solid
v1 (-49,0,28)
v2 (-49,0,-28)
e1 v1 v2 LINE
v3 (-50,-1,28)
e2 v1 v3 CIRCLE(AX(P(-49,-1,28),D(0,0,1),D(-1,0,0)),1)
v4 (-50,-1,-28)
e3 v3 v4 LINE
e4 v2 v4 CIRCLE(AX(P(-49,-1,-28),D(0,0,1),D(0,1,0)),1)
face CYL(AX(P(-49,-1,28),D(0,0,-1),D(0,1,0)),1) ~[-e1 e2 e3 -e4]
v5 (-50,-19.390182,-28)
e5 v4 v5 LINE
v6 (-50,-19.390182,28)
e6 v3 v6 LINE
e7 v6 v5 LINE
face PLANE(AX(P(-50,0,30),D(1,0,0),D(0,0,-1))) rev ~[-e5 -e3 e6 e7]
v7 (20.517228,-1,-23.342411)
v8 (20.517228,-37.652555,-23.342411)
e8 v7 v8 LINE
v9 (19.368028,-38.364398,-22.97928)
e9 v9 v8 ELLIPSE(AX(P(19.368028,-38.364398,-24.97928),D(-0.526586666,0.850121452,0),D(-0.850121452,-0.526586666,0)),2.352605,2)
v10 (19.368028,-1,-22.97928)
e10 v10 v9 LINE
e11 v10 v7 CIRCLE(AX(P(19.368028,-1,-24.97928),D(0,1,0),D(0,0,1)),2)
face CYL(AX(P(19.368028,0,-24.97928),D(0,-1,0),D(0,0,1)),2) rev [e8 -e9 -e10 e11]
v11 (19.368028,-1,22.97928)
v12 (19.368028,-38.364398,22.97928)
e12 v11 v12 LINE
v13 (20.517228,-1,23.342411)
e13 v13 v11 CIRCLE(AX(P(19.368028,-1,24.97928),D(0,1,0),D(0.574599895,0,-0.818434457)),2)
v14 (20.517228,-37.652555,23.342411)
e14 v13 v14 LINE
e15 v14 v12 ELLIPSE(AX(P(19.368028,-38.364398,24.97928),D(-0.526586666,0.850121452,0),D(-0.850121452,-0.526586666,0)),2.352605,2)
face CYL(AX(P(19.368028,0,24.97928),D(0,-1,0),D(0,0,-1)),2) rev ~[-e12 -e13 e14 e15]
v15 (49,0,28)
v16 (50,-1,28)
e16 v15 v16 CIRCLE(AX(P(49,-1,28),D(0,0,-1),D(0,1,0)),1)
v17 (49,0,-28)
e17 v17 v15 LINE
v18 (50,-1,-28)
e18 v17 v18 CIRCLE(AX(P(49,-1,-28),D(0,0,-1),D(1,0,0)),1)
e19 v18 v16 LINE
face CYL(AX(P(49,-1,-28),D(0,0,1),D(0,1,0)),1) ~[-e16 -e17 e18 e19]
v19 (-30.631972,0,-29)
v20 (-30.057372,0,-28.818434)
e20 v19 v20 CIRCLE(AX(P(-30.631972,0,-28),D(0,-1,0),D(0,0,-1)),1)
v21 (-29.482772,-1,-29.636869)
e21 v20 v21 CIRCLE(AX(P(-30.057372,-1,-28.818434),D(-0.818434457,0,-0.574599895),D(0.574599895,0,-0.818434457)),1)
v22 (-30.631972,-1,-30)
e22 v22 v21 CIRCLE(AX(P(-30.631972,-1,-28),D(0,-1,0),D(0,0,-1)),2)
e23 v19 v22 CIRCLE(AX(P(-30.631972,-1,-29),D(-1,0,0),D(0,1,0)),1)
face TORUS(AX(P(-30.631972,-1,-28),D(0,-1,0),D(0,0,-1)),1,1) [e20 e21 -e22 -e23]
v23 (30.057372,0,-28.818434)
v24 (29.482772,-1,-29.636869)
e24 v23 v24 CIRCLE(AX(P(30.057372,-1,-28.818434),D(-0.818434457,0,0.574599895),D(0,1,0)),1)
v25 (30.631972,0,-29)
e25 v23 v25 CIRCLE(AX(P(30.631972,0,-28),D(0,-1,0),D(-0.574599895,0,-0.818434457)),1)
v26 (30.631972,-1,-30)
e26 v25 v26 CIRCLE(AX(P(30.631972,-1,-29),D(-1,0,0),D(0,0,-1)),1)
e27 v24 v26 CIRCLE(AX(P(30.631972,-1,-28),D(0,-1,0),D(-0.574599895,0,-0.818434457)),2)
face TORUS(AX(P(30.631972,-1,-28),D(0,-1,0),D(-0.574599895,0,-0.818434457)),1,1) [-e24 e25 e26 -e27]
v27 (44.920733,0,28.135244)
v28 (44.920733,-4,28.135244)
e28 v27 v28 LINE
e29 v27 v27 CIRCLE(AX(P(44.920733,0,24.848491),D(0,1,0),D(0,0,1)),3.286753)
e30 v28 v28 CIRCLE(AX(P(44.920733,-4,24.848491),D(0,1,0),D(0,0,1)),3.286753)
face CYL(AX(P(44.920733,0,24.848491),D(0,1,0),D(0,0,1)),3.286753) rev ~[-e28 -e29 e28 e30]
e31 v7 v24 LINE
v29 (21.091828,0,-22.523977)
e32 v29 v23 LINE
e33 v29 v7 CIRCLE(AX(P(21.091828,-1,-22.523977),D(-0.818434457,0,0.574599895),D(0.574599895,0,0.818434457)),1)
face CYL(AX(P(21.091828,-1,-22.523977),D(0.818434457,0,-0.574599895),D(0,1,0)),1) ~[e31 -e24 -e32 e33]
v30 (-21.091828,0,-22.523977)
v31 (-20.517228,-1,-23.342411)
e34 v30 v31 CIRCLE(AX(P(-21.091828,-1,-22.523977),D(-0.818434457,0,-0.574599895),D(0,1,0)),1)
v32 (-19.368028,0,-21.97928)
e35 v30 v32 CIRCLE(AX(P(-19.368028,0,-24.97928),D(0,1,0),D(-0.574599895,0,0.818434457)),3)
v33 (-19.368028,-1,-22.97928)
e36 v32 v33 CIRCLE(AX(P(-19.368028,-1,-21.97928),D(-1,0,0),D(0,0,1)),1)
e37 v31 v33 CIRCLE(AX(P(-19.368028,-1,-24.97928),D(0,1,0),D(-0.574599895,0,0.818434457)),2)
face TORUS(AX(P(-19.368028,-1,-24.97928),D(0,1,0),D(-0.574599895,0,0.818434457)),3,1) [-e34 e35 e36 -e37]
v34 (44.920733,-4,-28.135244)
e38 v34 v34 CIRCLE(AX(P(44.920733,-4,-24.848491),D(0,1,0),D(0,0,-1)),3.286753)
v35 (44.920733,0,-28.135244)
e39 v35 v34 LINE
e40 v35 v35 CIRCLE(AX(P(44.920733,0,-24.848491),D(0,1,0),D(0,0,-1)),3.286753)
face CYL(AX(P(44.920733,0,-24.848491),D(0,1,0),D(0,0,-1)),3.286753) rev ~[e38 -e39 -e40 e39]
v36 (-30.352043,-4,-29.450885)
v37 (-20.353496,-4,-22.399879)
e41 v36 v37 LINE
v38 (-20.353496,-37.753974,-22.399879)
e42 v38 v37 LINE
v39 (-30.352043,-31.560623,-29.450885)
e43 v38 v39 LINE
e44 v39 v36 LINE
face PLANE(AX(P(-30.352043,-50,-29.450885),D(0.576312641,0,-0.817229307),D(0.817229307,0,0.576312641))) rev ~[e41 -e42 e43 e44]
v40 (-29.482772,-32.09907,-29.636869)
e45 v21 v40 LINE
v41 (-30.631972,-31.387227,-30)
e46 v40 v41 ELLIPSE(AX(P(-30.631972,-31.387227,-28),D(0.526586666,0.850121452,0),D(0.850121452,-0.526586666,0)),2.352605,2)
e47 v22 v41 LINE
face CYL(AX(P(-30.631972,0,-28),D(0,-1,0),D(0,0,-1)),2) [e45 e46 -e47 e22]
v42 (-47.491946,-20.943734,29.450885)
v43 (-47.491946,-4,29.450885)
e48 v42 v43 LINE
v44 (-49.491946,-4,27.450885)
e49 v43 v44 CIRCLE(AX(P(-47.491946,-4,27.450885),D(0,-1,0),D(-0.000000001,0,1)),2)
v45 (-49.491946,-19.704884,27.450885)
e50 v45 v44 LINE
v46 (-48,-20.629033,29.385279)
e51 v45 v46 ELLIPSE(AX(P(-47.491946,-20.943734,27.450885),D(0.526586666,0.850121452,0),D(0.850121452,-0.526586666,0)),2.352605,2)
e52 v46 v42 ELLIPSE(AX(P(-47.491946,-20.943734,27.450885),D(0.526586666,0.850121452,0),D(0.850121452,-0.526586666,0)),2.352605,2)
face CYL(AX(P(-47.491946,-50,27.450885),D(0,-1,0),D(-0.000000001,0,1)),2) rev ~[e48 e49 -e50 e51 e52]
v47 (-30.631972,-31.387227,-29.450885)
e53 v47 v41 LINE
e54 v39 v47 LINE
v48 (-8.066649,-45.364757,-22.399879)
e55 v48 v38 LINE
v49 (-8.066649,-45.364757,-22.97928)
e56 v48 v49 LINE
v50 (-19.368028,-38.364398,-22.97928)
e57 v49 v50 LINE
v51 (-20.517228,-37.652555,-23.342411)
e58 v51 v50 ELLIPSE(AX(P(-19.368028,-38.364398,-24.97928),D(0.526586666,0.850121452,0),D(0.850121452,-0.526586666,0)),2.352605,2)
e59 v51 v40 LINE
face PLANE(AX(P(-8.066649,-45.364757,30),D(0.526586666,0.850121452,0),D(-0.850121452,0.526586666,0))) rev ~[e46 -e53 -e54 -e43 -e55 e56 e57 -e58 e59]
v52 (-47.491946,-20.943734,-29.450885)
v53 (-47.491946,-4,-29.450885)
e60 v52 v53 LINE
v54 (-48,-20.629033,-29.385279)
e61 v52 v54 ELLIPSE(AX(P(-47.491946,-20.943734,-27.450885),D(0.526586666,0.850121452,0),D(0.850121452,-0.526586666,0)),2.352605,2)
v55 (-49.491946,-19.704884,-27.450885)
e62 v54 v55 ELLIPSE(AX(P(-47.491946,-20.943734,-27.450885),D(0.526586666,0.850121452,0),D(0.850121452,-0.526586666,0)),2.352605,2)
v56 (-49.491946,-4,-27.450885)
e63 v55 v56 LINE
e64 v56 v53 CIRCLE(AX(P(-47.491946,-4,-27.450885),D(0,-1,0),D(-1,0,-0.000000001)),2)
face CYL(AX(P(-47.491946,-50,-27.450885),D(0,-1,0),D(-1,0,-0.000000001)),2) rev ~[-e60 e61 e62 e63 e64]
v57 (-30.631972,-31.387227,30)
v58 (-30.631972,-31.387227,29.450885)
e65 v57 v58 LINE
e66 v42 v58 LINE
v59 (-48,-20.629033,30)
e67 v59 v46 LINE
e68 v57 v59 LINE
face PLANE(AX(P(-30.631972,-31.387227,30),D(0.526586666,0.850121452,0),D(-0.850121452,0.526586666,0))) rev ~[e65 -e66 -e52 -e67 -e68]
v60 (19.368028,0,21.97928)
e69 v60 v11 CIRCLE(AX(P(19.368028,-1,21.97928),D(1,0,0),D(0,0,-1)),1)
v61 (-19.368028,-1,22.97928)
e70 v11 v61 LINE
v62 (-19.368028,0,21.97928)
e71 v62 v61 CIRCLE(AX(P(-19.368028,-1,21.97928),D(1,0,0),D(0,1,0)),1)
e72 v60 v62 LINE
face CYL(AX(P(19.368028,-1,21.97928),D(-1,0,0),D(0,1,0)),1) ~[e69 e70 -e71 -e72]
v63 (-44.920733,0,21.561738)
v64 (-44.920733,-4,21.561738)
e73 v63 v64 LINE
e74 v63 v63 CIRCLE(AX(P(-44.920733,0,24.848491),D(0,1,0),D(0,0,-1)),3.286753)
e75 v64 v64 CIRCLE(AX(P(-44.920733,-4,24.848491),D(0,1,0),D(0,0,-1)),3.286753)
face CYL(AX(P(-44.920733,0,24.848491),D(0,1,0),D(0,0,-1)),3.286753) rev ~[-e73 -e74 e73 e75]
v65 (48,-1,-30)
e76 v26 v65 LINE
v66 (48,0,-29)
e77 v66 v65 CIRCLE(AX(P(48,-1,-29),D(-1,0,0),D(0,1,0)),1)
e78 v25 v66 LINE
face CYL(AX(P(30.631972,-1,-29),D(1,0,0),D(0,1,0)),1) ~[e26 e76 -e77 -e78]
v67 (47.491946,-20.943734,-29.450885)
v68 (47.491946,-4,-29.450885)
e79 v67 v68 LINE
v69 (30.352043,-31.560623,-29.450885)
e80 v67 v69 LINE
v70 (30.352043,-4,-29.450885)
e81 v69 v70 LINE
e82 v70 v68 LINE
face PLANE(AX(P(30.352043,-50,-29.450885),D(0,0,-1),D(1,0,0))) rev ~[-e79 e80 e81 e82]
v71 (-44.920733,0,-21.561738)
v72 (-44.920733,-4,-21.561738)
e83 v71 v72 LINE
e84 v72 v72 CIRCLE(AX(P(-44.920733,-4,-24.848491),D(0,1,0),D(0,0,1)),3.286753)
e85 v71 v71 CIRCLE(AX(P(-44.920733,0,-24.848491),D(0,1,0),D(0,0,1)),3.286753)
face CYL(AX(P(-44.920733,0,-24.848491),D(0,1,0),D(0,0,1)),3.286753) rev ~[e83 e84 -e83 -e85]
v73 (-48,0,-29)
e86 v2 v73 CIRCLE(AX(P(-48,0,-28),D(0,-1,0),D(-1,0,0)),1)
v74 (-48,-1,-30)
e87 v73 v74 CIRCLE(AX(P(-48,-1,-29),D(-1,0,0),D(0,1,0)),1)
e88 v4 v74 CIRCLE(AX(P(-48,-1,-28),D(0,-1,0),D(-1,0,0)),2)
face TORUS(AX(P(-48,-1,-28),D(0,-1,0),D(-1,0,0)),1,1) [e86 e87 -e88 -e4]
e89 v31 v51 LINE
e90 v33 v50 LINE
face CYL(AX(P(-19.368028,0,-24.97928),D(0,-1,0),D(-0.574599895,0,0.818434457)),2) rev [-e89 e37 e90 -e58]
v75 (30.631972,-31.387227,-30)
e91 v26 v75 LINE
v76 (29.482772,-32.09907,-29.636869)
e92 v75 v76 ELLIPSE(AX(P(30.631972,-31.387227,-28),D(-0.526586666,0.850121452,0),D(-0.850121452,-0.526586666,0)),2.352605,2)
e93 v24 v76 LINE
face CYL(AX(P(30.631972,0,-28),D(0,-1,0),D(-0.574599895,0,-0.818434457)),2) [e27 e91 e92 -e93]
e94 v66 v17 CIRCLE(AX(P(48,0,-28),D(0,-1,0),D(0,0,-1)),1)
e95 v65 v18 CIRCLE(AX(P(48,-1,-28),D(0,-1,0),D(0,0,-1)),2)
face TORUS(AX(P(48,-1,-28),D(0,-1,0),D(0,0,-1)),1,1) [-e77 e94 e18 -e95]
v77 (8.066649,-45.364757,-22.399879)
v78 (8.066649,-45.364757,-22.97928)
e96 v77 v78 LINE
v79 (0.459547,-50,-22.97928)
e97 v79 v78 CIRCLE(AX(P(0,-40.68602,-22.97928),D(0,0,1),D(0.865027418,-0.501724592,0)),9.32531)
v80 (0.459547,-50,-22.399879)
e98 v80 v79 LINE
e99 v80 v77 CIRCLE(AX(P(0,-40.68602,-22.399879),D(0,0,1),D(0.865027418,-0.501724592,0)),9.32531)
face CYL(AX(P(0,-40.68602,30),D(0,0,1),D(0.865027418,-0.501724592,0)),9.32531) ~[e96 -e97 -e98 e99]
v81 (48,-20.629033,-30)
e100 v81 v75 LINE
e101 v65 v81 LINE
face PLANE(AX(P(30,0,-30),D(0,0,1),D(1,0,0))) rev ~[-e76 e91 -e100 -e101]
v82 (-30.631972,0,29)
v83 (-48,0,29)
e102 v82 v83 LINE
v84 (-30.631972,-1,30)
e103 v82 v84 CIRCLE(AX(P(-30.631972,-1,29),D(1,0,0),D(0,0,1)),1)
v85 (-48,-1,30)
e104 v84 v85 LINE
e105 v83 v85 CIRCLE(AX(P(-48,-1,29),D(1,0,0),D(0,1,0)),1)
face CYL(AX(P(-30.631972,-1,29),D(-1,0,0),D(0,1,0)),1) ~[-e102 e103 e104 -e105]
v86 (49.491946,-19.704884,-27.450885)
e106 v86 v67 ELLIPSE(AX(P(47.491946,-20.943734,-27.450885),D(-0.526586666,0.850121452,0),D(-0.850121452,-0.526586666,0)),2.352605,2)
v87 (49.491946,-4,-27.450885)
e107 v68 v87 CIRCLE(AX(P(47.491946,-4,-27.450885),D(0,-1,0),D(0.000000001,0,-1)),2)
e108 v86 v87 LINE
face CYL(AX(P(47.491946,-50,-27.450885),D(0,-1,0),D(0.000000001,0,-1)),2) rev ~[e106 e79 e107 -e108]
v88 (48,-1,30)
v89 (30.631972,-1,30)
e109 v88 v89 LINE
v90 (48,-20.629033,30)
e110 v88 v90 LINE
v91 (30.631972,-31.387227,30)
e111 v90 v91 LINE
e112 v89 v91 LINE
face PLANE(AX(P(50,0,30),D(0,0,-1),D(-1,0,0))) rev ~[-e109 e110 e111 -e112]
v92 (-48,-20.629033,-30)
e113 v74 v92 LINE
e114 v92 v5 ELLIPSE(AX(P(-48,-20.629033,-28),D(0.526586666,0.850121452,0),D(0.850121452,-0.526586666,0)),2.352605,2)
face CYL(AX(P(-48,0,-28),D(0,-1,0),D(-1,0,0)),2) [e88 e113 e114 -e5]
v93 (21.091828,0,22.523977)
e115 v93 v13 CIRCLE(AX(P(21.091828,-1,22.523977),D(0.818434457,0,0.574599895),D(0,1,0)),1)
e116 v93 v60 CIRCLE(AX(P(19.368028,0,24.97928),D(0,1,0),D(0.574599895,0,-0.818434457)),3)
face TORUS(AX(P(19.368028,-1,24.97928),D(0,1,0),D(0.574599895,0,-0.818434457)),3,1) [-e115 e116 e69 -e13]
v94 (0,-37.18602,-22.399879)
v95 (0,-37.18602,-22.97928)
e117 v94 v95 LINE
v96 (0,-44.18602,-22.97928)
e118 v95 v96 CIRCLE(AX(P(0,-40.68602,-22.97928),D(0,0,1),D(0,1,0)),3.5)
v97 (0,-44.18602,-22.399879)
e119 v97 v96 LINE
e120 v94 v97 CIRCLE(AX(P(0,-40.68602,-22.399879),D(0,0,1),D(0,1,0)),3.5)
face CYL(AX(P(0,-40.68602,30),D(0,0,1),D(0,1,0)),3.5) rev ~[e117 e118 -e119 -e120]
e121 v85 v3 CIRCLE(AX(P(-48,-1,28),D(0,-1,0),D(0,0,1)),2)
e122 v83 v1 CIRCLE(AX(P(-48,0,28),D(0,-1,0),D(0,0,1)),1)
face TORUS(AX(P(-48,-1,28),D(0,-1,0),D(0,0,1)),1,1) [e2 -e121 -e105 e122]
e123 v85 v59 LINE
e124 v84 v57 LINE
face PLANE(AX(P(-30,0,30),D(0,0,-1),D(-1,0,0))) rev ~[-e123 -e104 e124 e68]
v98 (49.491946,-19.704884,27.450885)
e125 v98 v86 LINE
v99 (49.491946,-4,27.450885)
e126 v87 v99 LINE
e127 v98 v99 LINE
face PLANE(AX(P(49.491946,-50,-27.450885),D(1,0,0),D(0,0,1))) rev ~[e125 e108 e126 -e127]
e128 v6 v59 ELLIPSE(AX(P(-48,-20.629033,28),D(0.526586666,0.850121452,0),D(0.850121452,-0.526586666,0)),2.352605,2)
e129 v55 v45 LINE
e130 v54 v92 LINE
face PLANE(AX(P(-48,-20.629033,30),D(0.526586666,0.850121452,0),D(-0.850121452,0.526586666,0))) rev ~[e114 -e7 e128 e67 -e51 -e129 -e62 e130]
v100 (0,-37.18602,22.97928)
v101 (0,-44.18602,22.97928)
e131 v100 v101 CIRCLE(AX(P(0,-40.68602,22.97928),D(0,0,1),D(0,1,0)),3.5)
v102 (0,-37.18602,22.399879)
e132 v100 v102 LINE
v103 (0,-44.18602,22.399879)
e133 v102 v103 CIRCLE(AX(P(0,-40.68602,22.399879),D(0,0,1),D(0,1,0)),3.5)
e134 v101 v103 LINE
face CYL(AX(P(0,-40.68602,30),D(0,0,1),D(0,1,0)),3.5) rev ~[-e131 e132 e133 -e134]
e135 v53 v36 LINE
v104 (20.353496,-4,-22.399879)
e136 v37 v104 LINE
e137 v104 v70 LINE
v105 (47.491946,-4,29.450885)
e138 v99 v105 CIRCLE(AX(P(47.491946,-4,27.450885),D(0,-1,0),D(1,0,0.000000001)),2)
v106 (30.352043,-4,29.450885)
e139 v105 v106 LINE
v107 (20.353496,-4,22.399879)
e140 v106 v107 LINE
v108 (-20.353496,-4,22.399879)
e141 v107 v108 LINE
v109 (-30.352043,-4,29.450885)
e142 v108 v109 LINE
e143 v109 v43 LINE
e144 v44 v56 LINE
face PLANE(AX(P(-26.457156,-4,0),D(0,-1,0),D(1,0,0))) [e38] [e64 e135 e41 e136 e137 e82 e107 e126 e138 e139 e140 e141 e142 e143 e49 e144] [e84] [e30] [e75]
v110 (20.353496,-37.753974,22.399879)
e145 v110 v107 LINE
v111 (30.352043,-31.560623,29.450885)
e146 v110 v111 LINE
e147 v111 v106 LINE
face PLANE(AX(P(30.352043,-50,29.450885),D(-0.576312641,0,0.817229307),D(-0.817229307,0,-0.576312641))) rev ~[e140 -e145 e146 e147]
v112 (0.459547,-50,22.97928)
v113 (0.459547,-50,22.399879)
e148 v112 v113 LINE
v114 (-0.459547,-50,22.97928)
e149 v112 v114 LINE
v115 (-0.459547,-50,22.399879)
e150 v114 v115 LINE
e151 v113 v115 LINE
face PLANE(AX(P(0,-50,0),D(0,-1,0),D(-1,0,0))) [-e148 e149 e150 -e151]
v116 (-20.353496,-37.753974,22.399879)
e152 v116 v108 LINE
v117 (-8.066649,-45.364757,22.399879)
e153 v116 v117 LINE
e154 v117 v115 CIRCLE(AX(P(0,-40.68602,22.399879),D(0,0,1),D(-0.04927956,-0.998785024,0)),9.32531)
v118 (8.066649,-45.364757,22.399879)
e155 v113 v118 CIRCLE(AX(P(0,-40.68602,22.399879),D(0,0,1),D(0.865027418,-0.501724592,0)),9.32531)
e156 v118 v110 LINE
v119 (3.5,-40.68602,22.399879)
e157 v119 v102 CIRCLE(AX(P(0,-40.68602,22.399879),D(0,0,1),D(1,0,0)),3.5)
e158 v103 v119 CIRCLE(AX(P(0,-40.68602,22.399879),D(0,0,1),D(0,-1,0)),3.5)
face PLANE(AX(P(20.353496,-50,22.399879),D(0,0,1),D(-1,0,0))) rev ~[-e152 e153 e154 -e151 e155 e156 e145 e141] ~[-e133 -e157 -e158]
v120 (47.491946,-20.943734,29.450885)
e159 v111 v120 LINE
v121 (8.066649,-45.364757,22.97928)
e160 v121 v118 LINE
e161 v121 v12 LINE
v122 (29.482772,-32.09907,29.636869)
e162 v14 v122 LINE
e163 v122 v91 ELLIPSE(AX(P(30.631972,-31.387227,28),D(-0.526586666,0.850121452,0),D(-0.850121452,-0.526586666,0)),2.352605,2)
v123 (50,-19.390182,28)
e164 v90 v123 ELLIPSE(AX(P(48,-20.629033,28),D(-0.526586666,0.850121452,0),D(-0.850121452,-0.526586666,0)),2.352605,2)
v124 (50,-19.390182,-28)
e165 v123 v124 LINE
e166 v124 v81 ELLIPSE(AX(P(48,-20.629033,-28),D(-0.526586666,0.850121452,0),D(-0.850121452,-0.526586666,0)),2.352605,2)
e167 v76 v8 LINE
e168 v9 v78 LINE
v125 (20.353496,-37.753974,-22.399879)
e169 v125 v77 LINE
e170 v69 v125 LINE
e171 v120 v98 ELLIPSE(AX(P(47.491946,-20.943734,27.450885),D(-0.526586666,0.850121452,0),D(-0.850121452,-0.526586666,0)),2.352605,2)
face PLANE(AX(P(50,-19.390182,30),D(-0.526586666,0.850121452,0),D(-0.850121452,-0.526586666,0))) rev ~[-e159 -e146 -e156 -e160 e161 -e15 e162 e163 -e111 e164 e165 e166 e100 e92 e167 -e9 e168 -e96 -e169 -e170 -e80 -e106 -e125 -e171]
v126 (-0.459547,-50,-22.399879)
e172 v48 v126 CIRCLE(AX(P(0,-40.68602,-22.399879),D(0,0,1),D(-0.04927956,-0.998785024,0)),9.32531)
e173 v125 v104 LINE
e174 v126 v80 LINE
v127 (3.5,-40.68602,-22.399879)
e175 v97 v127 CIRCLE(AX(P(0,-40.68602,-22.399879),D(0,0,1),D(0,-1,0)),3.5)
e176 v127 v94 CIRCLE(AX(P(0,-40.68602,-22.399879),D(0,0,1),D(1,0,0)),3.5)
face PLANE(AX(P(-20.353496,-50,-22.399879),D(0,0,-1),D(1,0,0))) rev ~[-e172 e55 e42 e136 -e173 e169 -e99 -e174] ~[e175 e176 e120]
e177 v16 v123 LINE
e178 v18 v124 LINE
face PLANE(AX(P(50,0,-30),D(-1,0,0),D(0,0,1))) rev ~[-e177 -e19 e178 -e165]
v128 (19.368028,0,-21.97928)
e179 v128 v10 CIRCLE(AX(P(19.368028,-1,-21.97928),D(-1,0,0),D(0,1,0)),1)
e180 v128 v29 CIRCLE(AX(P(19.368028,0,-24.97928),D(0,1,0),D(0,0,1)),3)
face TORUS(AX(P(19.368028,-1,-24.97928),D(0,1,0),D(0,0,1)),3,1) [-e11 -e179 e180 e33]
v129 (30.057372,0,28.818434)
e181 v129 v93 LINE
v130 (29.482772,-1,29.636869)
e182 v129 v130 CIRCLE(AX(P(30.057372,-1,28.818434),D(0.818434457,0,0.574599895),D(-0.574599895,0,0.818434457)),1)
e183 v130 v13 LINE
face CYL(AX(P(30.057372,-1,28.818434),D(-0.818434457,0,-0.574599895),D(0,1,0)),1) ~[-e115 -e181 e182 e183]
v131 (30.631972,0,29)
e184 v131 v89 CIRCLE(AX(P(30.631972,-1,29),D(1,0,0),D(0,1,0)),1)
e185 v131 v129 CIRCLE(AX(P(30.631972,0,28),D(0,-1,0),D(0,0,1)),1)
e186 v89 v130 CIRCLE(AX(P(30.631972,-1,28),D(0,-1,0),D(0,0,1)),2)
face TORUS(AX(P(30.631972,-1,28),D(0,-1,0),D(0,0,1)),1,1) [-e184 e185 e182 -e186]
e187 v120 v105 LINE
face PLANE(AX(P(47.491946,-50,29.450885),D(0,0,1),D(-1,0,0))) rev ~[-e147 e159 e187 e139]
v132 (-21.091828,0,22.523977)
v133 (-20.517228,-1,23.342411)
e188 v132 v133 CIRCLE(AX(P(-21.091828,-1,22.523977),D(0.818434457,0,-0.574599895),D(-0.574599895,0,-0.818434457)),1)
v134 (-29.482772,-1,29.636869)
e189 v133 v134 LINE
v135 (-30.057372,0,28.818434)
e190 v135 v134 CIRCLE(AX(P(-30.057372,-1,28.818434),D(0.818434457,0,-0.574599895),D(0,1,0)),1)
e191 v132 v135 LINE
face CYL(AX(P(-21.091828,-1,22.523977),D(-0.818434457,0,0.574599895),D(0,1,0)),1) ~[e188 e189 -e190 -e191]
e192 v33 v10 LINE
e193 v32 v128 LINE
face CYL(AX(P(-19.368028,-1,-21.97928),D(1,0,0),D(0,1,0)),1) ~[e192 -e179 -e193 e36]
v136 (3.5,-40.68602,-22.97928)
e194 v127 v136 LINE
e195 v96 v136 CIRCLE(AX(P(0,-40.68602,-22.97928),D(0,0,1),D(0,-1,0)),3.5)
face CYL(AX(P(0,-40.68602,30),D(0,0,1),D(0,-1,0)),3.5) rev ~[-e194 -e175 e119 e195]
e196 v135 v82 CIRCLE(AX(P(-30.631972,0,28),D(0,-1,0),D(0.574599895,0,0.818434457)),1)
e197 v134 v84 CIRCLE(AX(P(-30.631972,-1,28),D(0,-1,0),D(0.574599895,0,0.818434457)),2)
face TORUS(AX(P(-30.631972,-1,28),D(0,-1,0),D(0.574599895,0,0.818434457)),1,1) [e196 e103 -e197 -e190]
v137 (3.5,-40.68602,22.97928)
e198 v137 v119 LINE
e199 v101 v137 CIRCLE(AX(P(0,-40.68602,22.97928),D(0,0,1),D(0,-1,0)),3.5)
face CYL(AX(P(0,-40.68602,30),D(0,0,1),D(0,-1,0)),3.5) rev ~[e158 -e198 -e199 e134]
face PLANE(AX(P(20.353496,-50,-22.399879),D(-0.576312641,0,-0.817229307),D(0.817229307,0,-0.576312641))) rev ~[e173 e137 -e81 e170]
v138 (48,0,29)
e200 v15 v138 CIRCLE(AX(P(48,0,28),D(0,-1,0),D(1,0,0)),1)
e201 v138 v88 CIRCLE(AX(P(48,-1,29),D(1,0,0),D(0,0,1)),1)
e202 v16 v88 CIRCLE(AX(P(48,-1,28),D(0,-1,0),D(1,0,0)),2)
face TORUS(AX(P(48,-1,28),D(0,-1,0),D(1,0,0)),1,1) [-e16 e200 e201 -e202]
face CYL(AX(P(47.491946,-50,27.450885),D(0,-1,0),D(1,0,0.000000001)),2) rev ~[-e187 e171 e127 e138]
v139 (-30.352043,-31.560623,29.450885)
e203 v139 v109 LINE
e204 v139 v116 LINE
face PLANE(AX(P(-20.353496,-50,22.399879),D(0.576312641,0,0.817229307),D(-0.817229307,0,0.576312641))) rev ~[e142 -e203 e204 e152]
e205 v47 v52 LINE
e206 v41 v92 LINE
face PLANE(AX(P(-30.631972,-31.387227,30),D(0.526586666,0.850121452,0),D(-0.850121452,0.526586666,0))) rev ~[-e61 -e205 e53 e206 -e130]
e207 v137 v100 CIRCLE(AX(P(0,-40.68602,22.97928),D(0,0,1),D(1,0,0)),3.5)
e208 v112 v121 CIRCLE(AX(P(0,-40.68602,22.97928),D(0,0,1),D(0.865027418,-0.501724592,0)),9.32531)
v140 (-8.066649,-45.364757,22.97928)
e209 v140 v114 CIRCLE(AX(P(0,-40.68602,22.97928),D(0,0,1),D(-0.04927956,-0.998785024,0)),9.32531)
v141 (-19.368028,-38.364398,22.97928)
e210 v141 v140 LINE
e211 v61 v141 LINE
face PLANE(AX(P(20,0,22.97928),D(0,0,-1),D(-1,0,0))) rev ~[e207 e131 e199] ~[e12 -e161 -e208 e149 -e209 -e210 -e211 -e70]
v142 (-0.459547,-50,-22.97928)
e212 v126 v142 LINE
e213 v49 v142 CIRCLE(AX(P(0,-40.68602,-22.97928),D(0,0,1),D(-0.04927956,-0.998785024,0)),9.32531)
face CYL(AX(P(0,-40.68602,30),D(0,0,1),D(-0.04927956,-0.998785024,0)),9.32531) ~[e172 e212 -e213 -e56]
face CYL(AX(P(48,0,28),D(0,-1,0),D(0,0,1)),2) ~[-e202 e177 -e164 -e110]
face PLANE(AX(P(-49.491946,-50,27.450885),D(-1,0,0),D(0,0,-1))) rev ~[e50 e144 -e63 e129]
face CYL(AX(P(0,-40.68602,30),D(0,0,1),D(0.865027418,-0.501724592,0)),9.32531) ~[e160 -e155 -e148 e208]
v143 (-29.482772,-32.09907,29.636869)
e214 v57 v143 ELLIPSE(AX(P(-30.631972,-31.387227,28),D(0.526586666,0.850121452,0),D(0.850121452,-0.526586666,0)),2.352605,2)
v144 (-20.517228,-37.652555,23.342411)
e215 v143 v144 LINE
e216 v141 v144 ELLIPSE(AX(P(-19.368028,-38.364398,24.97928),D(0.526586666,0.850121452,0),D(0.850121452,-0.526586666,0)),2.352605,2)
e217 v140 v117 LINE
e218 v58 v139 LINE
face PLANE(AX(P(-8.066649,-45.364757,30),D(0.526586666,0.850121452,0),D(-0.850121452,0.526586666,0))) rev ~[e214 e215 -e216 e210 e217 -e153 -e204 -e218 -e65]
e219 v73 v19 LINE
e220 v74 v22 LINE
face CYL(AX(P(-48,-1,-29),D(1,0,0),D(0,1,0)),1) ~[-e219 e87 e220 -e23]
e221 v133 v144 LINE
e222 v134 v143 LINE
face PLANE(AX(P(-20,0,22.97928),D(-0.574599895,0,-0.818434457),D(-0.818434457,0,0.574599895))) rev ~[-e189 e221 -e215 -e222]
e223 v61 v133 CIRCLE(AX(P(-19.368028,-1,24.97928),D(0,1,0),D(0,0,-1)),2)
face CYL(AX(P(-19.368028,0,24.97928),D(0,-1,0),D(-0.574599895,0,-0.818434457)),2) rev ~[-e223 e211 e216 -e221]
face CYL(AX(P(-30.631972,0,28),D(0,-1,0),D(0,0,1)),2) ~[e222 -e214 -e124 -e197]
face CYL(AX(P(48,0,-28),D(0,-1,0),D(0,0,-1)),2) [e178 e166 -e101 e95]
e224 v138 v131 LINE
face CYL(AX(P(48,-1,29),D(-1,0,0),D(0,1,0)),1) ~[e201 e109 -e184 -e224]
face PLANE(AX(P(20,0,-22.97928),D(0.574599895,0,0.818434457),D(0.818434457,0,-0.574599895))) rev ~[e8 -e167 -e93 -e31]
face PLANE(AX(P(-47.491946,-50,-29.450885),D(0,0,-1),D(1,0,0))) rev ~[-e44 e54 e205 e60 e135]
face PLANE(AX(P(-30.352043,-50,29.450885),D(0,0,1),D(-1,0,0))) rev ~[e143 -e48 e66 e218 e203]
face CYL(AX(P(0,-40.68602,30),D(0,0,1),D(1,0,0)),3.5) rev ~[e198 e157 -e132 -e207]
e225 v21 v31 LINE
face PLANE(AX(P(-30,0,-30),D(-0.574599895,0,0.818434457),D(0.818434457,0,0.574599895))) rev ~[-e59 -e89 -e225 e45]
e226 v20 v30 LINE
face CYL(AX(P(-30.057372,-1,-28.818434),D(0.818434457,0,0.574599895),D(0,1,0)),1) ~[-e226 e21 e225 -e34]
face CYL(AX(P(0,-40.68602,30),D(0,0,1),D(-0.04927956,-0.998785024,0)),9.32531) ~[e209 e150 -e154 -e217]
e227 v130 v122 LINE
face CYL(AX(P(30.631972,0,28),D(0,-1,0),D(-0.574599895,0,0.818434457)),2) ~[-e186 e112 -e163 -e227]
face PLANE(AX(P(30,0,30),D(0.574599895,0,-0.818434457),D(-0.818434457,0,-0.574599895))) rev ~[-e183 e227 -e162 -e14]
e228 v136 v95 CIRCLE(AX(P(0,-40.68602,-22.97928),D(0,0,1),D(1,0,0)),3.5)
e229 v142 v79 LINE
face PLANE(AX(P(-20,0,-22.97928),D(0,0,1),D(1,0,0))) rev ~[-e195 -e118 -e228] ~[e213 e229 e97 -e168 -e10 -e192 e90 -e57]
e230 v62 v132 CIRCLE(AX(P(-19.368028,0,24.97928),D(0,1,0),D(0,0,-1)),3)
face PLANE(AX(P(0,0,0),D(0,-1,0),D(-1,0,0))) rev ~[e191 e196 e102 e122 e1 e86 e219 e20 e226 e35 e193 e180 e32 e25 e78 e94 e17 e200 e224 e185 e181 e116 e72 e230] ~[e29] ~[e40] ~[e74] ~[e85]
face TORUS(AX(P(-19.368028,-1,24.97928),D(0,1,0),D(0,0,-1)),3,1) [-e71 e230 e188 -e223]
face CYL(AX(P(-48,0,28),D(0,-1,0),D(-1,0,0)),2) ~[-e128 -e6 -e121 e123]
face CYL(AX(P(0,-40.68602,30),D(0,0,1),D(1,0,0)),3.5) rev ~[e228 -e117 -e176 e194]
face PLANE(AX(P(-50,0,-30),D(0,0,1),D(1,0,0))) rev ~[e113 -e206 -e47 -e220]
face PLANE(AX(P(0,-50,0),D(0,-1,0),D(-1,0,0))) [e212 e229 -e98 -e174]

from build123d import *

# Parameters (mm, degrees)
SKETCH1_R           = 3.286752884
BOSS_EXTRUDE2_DEPTH = 50
FILLET1_R           = 2
FILLET2_R           = 1
CUT_EXTRUDE1_DEPTH  = 70
SKETCH3_W           = 0.91909433
SKETCH3_H           = 44.79975758
CUT_EXTRUDE3_DEPTH  = 46


with BuildPart() as part:
    # Sketch1 → Boss-Extrude2 (new body)
    with BuildSketch(Plane(origin=(0, 0, 0), x_dir=(1, 0, 0), z_dir=(0, 1, 0))):
        Polygon((-50, -30), (-50, 30), (-30, 30), (-20, 22.979280262), (20, 22.979280262), (30, 30), (50, 30), (50, -30), (30, -30), (20, -22.979280262), (-20, -22.979280262), (-30, -30), align=None)
        with Locations(Location((-44.920732924, 24.848491151, 0), (0, 0, 270))):
            Circle(SKETCH1_R, mode=Mode.SUBTRACT)
        with Locations(Location((-44.920732924, -24.848491151, 0), (0, 0, 90))):
            Circle(SKETCH1_R, mode=Mode.SUBTRACT)
        with Locations(Location((44.920732924, -24.848491151, 0), (0, 0, 270))):
            Circle(SKETCH1_R, mode=Mode.SUBTRACT)
        with Locations(Location((44.920732924, 24.848491151, 0), (0, 0, 90))):
            Circle(SKETCH1_R, mode=Mode.SUBTRACT)
    extrude(amount=-BOSS_EXTRUDE2_DEPTH)

    # Fillet1
    fillet1_edges = [part.edges().sort_by_distance(p)[0] for p in [
        (-30, -25, -30),
        (-20, -25, -22.979280262),
        (20, -25, -22.979280262),
        (30, -25, -30),
        (50, -25, -30),
        (50, -25, 30),
        (30, -25, 30),
        (20, -25, 22.979280262),
        (-20, -25, 22.979280262),
        (-30, -25, 30),
        (-50, -25, 30),
        (-50, -25, -30),
    ]]
    fillet(fillet1_edges, radius=FILLET1_R)

    # Fillet2
    fillet2_edges = [part.edges().sort_by_distance(p)[0] for p in [
        (-39.315986035, 0, -30),
        (-50, 0, 0),
        (-39.315986035, 0, 30),
        (-25, 0, 26.489640131),
        (0, 0, 22.979280262),
        (25, 0, 26.489640131),
        (39.315986035, 0, 30),
        (50, 0, 0),
        (39.315986035, 0, -30),
        (25, 0, -26.489640131),
        (0, 0, -22.979280262),
        (-25, 0, -26.489640131),
        (-49.414213562, 0, 29.414213562),
        (-30.029368482, 0, 29.907057659),
        (30.029368482, 0, 29.907057659),
        (49.414213562, 0, 29.414213562),
        (49.414213562, 0, -29.414213562),
        (30.029368482, 0, -29.907057659),
        (-30.029368482, 0, -29.907057659),
        (-49.414213562, 0, -29.414213562),
        (-19.970631518, 0, -23.072222603),
        (19.970631518, 0, -23.072222603),
        (19.970631518, 0, 23.072222603),
        (-19.970631518, 0, 23.072222603),
    ]]
    fillet(fillet2_edges, radius=FILLET2_R)

    # Sketch2 → Cut-Extrude1 (cut)
    with BuildSketch(Plane.XY.offset(30)):
        Polygon((-48, -50), (-30.631972071, -50), (-30.631972071, -31.387227089), (-48, -20.62903259), align=None)
        with BuildLine():
            Line((-30.631972071, -50), (-0.459547165, -50))
            ThreePointArc((-0.459547165, -50), (-4.852357389, -48.649438504), (-8.06664868, -45.364757467))
            Line((-8.06664868, -45.364757467), (-30.631972071, -31.387227089))
            Line((-30.631972071, -31.387227089), (-30.631972071, -50))
        make_face()
        with BuildLine():
            ThreePointArc((8.06664868, -45.364757467), (4.852357389, -48.649438504), (0.459547165, -50))
            Line((0.459547165, -50), (50, -50))
            Line((50, -50), (50, -19.390182152))
            Line((50, -19.390182152), (8.06664868, -45.364757467))
        make_face()
        Polygon((-50, -50), (-48, -50), (-48, -20.62903259), (-50, -19.390182152), align=None)
        with BuildLine():
            ThreePointArc((3.5, -40.686020198), (2.474873734, -38.211146463), (0, -37.186020198))
            Line((0, -37.186020198), (0, -44.186020198))
            ThreePointArc((0, -44.186020198), (2.474873734, -43.160893932), (3.5, -40.686020198))
        make_face()
        with BuildLine():
            Line((0, -44.186020198), (0, -37.186020198))
            ThreePointArc((0, -37.186020198), (-3.5, -40.686020198), (0, -44.186020198))
        make_face()
    extrude(amount=-CUT_EXTRUDE1_DEPTH, mode=Mode.SUBTRACT)

    # Sketch3 → Cut-Extrude3 (cut)
    with BuildSketch(Plane.XZ.offset(50)):
        with BuildLine():
            Line((-0.459547165, -22.39987879), (-0.459547165, 22.39987879))
            Line((-0.459547165, 22.39987879), (-20.353496243, 22.39987879))
            Line((-20.353496243, 22.39987879), (-30.352042537, 29.450884636))
            Line((-30.352042537, 29.450884636), (-47.491946123, 29.450884636))
            ThreePointArc((-47.491946123, 29.450884636), (-48.906159685, 28.865098198), (-49.491946123, 27.450884636))
            Line((-49.491946123, 27.450884636), (-49.491946123, 0.606224364))
            Line((-49.491946123, 0.606224364), (-49.491946123, 0))
            Line((-49.491946123, 0), (-49.491946123, -0.606224364))
            Line((-49.491946123, -0.606224364), (-49.491946123, -27.450884636))
            ThreePointArc((-49.491946123, -27.450884636), (-48.906159685, -28.865098198), (-47.491946123, -29.450884636))
            Line((-47.491946123, -29.450884636), (-30.352042537, -29.450884636))
            Line((-30.352042537, -29.450884636), (-20.353496243, -22.39987879))
            Line((-20.353496243, -22.39987879), (-0.459547165, -22.39987879))
        make_face()
        Rectangle(SKETCH3_W, SKETCH3_H)
        with BuildLine():
            Line((47.491946123, 29.450884636), (30.352042537, 29.450884636))
            Line((30.352042537, 29.450884636), (20.353496243, 22.39987879))
            Line((20.353496243, 22.39987879), (0.459547165, 22.39987879))
            Line((0.459547165, 22.39987879), (0.459547165, -22.39987879))
            Line((0.459547165, -22.39987879), (20.353496243, -22.39987879))
            Line((20.353496243, -22.39987879), (30.352042537, -29.450884636))
            Line((30.352042537, -29.450884636), (47.491946123, -29.450884636))
            ThreePointArc((47.491946123, -29.450884636), (48.906159685, -28.865098198), (49.491946123, -27.450884636))
            Line((49.491946123, -27.450884636), (49.491946123, -0.606224364))
            Line((49.491946123, -0.606224364), (49.491946123, 0.606224364))
            Line((49.491946123, 0.606224364), (49.491946123, 27.450884636))
            ThreePointArc((49.491946123, 27.450884636), (48.906159685, 28.865098198), (47.491946123, 29.450884636))
        make_face()
    extrude(amount=-CUT_EXTRUDE3_DEPTH, mode=Mode.SUBTRACT)


solid = part.part
